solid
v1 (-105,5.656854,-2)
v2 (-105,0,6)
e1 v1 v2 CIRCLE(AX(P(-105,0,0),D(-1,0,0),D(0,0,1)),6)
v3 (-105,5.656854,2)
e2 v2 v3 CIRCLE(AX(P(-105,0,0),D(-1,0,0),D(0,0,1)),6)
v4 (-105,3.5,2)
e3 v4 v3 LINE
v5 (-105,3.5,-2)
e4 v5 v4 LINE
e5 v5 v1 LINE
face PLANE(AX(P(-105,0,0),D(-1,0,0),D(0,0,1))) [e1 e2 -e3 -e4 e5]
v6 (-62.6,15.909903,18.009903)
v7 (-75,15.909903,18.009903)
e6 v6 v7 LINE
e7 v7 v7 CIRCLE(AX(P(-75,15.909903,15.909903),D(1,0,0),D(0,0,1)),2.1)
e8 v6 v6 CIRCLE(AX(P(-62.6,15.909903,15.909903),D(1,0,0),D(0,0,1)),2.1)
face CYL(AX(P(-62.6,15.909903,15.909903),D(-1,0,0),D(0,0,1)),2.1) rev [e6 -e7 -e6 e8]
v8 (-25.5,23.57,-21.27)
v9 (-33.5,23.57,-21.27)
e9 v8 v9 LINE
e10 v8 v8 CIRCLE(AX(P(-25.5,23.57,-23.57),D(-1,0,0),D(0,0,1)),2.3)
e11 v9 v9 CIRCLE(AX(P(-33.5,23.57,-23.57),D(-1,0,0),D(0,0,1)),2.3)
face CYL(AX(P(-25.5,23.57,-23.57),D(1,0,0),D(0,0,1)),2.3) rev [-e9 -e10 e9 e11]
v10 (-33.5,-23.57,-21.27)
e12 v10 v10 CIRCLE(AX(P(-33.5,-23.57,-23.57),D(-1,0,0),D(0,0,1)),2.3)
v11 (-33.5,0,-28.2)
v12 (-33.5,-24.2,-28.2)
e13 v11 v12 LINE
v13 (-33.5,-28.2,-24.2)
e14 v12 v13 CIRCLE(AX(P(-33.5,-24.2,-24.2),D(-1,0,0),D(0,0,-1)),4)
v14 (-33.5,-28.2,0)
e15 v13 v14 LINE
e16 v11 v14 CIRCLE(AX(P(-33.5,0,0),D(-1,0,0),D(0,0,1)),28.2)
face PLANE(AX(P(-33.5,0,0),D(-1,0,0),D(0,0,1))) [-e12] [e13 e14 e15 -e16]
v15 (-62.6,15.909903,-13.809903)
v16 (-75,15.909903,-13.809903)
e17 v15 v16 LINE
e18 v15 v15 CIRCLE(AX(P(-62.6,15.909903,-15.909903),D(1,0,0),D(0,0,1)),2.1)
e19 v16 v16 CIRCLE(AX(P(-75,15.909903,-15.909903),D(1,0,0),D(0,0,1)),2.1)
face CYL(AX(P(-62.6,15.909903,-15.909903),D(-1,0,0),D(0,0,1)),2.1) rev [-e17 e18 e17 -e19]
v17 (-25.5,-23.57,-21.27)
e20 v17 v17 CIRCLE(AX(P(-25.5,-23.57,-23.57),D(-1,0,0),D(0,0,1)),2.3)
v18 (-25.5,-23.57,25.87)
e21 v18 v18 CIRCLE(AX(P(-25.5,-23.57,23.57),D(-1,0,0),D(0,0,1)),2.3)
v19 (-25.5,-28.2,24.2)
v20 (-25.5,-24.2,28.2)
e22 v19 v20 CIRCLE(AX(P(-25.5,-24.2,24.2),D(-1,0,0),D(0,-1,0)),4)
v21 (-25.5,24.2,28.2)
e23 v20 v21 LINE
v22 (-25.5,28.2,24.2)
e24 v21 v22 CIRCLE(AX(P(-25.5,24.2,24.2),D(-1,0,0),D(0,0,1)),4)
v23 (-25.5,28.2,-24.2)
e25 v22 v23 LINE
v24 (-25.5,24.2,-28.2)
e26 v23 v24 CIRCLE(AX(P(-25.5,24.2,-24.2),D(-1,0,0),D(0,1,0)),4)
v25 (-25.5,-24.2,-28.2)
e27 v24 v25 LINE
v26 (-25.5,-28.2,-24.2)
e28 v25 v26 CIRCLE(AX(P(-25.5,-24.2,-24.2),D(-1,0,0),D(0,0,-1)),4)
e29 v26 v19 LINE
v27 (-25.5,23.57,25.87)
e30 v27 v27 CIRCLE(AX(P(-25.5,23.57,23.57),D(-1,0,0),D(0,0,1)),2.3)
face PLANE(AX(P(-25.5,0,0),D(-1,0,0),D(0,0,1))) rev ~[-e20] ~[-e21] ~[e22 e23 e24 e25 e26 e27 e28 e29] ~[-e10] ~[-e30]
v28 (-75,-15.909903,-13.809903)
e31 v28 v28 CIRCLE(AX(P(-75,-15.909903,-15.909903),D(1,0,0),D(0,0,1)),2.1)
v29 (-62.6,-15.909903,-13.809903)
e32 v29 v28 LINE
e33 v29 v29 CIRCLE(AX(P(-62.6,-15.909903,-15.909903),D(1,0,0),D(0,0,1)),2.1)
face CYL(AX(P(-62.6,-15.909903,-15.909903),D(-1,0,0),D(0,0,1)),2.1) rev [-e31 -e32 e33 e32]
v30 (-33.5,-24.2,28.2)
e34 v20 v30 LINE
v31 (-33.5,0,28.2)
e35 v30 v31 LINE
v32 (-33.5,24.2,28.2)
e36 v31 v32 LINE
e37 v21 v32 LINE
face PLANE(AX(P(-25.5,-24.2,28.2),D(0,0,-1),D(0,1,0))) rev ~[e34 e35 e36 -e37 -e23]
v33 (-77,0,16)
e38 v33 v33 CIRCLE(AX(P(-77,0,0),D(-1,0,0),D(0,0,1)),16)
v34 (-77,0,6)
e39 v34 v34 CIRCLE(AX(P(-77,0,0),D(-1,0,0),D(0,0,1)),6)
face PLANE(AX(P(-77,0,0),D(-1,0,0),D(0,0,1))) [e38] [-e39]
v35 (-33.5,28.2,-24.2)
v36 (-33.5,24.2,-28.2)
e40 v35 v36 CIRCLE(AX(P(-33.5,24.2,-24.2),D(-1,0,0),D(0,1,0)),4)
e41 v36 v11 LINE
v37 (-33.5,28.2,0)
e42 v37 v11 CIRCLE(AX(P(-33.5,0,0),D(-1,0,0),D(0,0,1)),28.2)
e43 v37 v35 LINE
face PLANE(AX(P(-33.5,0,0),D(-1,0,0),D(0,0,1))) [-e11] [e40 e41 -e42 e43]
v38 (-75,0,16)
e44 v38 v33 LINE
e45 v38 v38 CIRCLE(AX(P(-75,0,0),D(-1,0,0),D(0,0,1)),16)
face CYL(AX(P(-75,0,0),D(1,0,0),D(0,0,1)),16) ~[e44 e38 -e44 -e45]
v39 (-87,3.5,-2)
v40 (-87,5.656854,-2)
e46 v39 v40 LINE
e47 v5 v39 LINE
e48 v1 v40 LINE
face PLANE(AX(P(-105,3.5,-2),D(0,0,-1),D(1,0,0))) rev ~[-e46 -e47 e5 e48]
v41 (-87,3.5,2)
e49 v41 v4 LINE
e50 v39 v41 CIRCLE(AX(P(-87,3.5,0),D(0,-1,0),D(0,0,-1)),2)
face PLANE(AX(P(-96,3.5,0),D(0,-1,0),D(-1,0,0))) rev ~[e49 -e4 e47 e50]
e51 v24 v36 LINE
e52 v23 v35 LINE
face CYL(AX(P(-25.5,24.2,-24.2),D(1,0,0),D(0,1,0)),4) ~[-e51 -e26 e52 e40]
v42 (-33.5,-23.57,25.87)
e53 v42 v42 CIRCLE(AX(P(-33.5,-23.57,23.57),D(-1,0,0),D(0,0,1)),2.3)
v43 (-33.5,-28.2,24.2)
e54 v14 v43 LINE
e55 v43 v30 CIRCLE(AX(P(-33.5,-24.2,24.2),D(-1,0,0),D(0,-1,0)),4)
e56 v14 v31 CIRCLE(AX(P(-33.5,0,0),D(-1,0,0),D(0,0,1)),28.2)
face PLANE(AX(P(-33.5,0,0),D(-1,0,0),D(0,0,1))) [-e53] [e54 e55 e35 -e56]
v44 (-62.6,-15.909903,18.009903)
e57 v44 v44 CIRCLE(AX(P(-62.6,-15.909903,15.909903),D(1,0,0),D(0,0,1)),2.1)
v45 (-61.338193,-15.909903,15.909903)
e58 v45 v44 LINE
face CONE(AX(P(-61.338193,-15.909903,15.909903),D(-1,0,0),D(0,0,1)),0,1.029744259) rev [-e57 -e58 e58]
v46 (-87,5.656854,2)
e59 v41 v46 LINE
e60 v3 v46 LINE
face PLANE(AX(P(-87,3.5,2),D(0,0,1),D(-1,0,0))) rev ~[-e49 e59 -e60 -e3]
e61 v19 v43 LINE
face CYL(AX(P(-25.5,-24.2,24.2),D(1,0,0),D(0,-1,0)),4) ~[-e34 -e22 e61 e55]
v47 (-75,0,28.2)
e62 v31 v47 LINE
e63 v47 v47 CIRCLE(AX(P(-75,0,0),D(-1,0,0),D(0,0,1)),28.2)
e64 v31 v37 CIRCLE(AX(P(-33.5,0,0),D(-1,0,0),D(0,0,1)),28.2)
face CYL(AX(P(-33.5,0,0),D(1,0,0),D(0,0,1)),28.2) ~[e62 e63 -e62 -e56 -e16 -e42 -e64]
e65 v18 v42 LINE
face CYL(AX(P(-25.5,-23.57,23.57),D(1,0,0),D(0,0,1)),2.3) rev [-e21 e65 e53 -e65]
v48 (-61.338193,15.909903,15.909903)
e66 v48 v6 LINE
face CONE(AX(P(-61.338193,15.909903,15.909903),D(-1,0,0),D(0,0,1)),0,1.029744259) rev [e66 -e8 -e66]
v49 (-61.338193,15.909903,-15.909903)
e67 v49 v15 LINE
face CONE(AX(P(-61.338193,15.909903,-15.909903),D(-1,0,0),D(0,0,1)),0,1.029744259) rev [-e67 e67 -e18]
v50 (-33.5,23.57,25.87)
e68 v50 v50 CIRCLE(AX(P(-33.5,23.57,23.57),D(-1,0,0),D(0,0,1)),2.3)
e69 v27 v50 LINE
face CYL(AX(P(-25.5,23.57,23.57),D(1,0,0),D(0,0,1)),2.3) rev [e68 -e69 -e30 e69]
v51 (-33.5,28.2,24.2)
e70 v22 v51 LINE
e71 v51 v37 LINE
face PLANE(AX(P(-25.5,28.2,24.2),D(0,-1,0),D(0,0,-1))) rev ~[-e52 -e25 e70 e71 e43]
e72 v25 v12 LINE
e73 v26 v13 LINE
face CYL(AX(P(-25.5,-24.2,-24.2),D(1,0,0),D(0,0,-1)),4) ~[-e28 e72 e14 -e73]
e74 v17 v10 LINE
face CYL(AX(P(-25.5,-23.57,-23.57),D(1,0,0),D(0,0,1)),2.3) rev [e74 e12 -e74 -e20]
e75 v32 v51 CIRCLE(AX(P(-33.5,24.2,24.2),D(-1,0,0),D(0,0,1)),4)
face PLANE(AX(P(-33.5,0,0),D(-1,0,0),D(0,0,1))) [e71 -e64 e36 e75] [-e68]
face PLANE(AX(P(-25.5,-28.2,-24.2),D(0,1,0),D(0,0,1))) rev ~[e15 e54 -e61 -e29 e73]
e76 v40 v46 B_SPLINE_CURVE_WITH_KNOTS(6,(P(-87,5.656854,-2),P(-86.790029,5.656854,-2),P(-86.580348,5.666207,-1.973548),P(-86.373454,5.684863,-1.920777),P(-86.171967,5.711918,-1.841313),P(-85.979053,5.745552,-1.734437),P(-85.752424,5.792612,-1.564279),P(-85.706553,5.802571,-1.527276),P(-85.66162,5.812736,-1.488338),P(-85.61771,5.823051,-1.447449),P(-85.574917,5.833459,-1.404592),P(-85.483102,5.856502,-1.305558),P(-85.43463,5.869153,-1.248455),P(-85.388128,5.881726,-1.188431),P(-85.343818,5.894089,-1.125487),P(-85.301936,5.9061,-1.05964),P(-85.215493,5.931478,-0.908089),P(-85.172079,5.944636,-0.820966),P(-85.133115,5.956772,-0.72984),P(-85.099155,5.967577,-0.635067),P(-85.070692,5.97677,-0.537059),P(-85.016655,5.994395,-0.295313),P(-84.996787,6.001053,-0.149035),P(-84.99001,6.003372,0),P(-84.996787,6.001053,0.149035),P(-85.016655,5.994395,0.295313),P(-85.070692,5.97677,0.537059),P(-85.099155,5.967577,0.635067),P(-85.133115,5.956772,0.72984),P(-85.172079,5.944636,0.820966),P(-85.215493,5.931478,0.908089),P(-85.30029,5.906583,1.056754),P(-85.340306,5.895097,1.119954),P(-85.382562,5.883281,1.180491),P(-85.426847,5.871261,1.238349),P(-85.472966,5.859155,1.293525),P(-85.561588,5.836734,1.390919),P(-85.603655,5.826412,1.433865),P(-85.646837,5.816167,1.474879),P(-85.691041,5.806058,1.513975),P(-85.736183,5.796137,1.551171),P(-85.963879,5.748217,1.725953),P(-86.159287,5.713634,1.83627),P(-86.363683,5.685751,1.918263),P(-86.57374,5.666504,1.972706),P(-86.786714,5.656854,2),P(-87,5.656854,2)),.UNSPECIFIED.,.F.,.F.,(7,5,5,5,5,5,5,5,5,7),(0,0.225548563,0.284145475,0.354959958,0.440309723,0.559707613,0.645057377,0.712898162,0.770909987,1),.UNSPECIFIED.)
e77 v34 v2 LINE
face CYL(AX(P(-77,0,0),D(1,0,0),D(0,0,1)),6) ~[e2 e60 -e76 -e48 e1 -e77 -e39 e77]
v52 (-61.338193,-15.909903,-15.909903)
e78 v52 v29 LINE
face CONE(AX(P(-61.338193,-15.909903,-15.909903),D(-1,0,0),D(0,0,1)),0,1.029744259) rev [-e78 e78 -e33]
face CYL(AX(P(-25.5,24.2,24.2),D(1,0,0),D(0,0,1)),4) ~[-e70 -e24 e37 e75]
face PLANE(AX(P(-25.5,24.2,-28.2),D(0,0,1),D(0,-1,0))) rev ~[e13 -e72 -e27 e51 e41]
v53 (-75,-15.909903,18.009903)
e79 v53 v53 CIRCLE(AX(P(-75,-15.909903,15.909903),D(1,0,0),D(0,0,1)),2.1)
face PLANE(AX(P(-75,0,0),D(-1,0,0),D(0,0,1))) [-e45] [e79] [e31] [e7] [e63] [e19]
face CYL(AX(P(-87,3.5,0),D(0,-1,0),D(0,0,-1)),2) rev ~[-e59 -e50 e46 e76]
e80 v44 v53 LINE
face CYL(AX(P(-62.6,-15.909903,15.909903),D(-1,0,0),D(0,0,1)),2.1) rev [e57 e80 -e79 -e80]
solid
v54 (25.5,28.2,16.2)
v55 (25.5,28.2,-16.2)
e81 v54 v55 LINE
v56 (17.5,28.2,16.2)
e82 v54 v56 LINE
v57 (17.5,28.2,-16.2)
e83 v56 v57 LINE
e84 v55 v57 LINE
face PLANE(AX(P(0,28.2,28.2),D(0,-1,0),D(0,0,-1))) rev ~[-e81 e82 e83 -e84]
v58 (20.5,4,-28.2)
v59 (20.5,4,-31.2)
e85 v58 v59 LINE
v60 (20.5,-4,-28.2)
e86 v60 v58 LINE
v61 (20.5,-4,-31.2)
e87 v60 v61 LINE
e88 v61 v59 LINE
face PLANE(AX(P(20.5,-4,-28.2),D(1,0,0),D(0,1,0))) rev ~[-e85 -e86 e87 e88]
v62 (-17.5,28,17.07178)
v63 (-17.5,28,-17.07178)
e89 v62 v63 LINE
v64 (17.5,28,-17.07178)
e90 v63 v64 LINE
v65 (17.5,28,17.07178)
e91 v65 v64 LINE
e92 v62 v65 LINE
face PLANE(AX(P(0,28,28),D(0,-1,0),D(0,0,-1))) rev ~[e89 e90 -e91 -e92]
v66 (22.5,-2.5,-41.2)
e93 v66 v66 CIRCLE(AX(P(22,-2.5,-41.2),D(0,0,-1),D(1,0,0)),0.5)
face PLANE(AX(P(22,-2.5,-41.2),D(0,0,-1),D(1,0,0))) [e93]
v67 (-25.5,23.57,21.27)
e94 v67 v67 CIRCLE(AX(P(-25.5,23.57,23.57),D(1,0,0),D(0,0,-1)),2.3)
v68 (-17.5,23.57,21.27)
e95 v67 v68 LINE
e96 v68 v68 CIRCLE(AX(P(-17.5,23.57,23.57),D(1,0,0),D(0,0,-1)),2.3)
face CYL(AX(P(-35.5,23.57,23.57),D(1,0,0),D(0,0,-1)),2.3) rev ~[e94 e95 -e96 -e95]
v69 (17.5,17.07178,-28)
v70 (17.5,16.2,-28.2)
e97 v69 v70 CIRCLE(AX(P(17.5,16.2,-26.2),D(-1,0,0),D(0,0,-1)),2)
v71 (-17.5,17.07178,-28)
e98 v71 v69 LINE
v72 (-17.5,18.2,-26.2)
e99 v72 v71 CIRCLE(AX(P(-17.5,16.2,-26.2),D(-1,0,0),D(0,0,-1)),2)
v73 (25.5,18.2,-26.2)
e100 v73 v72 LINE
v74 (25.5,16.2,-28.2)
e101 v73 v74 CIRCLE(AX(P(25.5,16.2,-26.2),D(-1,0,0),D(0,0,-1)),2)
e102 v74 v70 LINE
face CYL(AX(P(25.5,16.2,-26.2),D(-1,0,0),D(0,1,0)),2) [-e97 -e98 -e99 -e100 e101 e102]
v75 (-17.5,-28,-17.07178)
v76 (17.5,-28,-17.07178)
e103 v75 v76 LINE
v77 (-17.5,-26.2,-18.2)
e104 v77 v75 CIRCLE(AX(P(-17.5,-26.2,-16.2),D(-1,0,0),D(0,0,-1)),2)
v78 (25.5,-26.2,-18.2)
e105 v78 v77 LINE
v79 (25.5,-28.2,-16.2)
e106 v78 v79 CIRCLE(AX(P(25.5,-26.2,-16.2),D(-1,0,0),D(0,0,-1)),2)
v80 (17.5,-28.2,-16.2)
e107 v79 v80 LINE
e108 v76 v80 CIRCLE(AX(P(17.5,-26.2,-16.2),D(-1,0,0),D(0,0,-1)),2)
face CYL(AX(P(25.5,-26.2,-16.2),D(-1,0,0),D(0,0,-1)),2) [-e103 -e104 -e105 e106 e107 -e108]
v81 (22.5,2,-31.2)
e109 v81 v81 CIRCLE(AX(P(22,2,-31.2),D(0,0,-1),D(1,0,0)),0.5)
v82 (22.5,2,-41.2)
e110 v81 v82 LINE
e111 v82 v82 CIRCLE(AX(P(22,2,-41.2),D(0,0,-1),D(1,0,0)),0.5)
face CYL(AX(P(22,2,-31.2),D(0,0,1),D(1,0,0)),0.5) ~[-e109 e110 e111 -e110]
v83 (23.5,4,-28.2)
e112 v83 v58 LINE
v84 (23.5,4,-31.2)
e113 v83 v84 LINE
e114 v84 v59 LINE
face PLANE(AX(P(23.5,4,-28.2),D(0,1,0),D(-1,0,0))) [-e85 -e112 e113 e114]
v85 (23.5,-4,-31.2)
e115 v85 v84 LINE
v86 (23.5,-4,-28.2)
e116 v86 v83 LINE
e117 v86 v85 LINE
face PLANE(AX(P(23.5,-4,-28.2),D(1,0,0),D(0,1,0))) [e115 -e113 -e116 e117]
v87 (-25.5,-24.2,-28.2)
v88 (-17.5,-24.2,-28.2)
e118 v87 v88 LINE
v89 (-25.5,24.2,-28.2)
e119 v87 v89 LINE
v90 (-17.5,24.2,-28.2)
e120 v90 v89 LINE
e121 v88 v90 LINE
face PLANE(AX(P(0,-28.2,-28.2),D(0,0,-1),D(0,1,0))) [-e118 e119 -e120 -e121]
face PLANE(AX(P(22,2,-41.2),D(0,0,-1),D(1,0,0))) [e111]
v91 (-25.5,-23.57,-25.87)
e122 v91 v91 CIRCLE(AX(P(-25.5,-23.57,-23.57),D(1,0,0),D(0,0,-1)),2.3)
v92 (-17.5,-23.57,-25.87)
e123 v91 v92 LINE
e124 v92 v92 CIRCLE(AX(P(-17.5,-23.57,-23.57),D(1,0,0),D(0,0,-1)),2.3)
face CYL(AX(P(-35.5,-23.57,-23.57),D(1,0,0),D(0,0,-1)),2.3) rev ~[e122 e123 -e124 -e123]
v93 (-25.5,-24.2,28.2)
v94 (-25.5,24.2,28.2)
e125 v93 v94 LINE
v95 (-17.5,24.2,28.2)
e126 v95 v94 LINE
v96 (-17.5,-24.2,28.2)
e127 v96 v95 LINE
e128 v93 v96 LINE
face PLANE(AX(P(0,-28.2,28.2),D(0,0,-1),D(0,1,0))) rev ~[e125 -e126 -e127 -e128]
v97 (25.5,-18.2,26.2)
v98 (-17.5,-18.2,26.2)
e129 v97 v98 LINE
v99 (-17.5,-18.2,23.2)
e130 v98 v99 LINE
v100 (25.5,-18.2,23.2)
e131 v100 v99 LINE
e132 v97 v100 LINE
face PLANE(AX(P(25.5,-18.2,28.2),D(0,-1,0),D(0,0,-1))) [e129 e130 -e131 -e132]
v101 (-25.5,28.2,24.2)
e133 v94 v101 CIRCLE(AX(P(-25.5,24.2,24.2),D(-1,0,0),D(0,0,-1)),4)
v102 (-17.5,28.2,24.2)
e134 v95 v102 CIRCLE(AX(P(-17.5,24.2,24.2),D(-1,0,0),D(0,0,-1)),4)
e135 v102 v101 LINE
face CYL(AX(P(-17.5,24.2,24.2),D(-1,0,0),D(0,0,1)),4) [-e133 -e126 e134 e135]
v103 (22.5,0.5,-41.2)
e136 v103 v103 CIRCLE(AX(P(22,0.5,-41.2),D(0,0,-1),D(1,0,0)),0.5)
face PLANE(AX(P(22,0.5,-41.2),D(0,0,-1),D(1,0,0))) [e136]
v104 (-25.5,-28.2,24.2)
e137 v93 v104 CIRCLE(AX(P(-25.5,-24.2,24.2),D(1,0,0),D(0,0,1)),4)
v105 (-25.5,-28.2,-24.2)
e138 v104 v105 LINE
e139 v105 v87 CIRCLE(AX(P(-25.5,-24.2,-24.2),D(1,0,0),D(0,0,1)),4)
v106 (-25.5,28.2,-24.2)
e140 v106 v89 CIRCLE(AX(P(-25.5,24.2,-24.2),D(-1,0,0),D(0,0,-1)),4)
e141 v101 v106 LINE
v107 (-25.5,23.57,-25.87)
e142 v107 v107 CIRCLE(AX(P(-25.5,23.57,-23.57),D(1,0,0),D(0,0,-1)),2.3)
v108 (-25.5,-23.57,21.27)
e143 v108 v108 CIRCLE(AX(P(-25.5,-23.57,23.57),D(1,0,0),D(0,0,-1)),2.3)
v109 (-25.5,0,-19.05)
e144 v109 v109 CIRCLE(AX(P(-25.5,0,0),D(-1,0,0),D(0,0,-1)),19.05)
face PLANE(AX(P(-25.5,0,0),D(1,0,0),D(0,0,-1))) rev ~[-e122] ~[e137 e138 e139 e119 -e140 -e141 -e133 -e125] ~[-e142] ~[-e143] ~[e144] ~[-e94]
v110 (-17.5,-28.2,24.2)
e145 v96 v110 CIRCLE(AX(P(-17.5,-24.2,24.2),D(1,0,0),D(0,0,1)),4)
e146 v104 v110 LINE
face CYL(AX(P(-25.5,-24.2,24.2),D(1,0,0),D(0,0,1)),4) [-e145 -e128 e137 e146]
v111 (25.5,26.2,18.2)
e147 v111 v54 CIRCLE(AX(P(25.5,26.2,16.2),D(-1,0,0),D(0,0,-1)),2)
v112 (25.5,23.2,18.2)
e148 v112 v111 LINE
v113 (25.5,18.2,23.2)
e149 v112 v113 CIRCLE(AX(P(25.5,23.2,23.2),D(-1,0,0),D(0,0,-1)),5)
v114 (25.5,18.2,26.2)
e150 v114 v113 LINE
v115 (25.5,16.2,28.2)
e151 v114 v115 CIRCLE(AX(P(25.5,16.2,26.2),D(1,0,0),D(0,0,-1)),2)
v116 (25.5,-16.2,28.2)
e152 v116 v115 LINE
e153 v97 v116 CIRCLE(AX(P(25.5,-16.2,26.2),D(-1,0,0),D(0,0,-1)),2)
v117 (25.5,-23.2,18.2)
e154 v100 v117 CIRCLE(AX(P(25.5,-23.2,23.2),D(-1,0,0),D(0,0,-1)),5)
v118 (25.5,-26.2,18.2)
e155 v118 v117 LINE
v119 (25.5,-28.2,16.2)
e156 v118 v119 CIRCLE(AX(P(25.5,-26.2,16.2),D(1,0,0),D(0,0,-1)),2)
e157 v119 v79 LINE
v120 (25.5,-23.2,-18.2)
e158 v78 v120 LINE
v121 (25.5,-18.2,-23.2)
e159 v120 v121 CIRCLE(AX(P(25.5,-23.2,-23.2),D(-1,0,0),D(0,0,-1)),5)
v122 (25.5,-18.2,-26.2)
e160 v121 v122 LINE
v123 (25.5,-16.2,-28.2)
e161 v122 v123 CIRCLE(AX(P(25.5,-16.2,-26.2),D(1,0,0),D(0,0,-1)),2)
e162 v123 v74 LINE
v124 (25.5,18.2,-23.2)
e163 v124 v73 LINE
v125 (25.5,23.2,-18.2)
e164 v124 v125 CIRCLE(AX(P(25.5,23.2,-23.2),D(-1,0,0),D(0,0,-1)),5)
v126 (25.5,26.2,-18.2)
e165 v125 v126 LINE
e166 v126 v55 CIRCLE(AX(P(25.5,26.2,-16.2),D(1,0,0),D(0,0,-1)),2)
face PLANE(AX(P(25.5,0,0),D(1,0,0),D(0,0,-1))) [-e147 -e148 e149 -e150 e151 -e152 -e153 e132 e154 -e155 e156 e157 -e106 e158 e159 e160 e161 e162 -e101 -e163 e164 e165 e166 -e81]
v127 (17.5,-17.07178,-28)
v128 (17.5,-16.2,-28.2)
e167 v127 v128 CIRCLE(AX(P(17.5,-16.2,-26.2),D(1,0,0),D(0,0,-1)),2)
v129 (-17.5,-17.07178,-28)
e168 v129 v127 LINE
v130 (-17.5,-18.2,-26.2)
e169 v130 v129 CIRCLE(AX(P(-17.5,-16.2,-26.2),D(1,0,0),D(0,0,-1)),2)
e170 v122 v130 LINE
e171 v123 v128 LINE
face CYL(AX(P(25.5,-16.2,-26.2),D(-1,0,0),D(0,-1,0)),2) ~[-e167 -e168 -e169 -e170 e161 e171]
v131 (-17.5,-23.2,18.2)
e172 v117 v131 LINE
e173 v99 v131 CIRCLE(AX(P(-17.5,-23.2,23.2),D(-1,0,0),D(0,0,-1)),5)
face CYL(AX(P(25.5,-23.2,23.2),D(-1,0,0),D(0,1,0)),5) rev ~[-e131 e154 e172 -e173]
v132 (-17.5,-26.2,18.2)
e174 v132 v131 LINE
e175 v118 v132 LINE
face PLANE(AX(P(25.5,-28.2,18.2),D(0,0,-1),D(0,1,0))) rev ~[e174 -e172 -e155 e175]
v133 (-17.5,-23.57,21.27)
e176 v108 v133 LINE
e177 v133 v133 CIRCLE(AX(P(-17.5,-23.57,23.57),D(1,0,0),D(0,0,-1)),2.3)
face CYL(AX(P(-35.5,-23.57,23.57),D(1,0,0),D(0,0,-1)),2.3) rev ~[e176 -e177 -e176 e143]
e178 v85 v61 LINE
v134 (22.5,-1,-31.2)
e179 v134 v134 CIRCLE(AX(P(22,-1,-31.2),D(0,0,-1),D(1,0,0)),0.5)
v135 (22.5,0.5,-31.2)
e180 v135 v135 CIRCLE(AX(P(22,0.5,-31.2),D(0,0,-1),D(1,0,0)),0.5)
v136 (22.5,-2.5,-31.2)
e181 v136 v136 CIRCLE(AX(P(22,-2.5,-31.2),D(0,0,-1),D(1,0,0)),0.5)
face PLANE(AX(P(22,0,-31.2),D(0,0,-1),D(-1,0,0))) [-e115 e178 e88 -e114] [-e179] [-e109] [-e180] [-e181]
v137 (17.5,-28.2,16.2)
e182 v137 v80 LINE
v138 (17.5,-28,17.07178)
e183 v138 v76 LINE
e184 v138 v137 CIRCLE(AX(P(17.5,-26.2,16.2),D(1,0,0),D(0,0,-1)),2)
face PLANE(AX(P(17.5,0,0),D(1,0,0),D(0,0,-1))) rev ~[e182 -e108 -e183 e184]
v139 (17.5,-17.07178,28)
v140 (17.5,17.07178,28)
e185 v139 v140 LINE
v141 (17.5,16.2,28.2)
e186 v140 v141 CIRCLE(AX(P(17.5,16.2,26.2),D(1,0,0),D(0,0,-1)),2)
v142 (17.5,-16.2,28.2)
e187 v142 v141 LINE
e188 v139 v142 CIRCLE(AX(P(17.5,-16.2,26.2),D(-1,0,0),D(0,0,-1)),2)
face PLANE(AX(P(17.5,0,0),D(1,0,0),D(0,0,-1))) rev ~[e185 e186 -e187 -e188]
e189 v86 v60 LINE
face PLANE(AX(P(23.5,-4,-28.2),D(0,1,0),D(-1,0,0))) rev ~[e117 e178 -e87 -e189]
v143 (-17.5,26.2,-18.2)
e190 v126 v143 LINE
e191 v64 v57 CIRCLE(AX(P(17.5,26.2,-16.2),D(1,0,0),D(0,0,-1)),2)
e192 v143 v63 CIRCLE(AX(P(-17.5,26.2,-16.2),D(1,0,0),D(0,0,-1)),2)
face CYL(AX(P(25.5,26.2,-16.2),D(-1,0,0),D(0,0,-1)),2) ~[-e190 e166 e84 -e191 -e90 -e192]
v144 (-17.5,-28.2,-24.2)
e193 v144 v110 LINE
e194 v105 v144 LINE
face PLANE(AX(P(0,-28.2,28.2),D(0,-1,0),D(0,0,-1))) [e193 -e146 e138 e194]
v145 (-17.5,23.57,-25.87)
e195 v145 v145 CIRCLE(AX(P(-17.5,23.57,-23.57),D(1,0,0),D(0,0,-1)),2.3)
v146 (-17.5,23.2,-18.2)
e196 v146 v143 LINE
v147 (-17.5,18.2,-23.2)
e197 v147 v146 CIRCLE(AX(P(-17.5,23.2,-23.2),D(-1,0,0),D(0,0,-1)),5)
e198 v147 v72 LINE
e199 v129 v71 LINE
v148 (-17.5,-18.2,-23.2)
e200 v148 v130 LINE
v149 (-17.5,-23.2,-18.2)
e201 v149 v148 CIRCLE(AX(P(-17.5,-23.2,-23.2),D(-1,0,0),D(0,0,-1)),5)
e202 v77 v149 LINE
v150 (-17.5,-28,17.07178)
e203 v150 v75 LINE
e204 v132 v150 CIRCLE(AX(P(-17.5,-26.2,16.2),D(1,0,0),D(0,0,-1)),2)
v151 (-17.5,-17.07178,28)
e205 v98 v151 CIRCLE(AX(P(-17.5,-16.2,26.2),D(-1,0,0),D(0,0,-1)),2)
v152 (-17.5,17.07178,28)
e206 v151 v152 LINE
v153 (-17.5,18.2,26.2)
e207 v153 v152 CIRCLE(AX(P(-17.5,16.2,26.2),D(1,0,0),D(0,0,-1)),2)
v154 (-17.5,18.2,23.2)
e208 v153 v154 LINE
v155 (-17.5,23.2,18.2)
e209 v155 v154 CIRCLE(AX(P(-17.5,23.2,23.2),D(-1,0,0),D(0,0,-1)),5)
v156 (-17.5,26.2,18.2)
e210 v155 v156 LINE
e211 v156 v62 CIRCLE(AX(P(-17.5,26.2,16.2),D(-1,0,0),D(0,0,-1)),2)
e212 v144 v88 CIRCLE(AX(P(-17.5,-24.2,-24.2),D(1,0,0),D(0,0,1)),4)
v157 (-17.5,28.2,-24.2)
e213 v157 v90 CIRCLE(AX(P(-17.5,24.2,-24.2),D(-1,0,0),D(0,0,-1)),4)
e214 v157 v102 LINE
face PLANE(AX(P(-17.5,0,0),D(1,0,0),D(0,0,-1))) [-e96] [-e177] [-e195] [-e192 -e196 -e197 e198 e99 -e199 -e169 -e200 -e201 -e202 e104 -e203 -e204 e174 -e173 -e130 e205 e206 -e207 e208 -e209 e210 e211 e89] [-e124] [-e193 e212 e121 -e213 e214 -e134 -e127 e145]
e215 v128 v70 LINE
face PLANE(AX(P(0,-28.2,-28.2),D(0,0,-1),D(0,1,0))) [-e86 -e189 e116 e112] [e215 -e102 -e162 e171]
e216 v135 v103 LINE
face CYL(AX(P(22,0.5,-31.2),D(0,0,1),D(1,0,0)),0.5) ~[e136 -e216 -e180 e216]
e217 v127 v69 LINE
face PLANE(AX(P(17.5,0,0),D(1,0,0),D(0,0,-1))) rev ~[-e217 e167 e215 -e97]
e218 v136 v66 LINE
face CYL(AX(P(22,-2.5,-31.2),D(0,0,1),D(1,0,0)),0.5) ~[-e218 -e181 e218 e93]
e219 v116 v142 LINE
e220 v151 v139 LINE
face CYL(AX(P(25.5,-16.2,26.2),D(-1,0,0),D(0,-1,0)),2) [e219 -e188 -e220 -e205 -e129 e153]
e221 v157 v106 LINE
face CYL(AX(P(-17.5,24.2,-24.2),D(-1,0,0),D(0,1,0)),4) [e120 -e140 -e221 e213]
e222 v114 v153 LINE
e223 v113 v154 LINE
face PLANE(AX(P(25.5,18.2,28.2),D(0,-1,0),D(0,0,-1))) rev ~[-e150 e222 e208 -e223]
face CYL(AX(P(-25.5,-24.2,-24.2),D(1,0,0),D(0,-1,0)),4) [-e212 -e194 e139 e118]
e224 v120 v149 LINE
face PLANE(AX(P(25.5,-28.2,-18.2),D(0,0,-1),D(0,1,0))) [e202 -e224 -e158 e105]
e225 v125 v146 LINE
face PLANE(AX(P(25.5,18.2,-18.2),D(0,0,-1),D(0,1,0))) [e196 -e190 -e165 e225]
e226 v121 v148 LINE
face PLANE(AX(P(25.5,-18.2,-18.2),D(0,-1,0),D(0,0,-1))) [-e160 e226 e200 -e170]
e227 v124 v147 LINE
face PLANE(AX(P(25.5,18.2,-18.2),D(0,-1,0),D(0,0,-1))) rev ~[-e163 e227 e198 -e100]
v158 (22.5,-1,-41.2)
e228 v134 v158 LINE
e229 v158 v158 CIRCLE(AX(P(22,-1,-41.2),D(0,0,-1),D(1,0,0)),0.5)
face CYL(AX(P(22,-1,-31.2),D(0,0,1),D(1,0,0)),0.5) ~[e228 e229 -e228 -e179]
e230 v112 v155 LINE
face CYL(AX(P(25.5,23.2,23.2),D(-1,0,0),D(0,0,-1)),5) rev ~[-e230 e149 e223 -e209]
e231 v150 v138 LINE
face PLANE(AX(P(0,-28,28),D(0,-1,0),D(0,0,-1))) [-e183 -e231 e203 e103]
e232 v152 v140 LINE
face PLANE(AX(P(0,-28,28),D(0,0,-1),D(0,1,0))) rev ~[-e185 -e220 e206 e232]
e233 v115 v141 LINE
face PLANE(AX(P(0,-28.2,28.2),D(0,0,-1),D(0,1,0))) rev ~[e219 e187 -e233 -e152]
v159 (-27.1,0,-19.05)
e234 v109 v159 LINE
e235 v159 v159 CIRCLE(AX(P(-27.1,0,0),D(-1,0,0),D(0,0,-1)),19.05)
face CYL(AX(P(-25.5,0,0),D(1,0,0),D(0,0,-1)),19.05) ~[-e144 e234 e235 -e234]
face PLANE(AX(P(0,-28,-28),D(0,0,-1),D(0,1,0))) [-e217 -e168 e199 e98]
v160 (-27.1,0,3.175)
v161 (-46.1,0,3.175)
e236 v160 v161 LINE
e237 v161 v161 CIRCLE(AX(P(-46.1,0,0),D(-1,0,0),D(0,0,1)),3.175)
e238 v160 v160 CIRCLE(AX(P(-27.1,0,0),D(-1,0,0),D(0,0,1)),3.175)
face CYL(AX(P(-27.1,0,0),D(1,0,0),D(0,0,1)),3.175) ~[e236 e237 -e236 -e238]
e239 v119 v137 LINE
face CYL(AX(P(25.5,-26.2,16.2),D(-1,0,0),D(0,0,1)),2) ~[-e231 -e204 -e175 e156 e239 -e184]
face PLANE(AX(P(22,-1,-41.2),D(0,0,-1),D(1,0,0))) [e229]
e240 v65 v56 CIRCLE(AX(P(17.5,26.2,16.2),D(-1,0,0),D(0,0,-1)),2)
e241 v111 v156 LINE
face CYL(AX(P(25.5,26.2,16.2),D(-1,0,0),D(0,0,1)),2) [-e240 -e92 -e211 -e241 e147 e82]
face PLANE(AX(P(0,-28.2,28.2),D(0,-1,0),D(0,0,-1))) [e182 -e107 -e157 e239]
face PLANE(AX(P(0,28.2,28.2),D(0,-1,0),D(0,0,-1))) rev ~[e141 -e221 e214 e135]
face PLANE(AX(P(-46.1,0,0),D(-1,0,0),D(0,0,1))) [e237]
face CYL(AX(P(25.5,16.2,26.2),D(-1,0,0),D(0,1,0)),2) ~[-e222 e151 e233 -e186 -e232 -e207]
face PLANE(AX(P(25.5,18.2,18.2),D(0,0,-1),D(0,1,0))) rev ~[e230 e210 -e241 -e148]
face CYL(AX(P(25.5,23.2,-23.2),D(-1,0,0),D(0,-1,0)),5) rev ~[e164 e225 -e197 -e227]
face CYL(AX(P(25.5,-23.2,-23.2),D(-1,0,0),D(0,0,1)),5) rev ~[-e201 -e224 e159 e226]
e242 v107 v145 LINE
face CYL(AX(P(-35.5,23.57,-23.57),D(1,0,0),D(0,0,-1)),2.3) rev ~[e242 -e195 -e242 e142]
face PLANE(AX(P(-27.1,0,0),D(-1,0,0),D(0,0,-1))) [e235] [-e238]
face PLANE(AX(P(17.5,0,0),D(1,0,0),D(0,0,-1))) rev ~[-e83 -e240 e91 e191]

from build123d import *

# Parameters (mm, degrees)
SKETCH_1_W                  = 56.4
SKETCH_1_H                  = 56.4
EXTRUDE_1_DEPTH             = 25.5
SKETCH_7_W                  = 56.4
SKETCH_7_H                  = 56.4
SKETCH_7_W_2                = 56
SKETCH_7_H_2                = 56
CUT_EXTRUDE_1_DEPTH         = 17.5
SKETCH_2_R                  = 19.05
EXTRUDE_2_DEPTH             = 1.6
SKETCH_3_R                  = 3.175
EXTRUDE_3_DEPTH             = 19
SKETCH_10_W                 = 3
SKETCH_10_H                 = 8
EXTRUDE_4_DEPTH             = 3
SKETCH_11_R                 = 0.5
EXTRUDE_5_DEPTH             = 10
SKETCH_12_W                 = 10
SKETCH_12_H                 = 10
CUT_EXTRUDE_2_DEPTH         = 43
FILLET_2_R                  = 5
FILLET_3_R                  = 2
HOLE_WIZARD_4_6_4_6_1_D     = 4.6
HOLE_WIZARD_4_6_4_6_1_DEPTH = 10
HOLE_WIZARD_4_6_4_6_1_TIP   = 1.381979424
FILLET_1_R                  = 4
SKETCH_13_R                 = 2.3
EXTRUDE_6_DEPTH             = 8
SKETCH_14_R                 = 28.2
EXTRUDE_7_DEPTH             = 41.5
SKETCH_15_R                 = 16
EXTRUDE_8_DEPTH             = 2
SKETCH_16_R                 = 6
EXTRUDE_9_DEPTH             = 28
CUT_EXTRUDE_START           = 3.5
CUT_EXTRUDE_4_DEPTH         = 28
HOLE_WIZARD_M5_1_AT_2_COUNT = 2
HOLE_WIZARD_M5_1_AT_2_PITCH = 31.819805153
HOLE_WIZARD_M5_1_AT_3_COUNT = 2
HOLE_WIZARD_M5_1_AT_3_PITCH = 31.819805153
HOLE_WIZARD_M5_1_AT_4_COUNT = 2
HOLE_WIZARD_M5_1_AT_4_PITCH = 45


with BuildPart() as part:
    # 草图1 → 凸台-拉伸1 (new, symmetric)
    with BuildSketch(Plane(origin=(0, 0, 0), x_dir=(0, 0, -1), z_dir=(1, 0, 0))):
        Rectangle(SKETCH_1_W, SKETCH_1_H)
    extrude(amount=EXTRUDE_1_DEPTH, both=True)

    # 草图7 → 切除-拉伸1 (cut, symmetric)
    with BuildSketch(Plane(origin=(0, 0, 0), x_dir=(0, 0, -1), z_dir=(1, 0, 0))):
        Rectangle(SKETCH_7_W, SKETCH_7_H)
        Rectangle(SKETCH_7_W_2, SKETCH_7_H_2, mode=Mode.SUBTRACT)
    extrude(amount=CUT_EXTRUDE_1_DEPTH, both=True, mode=Mode.SUBTRACT)

    # 草图2 → 凸台-拉伸2 (add)
    with BuildSketch(Plane.ZY.offset(25.5)):
        with Locations(Location((0, 0, 0), (0, 0, 180))):
            Circle(SKETCH_2_R)
    extrude(amount=EXTRUDE_2_DEPTH)

    # 草图3 → 凸台-拉伸3 (add)
    with BuildSketch(Plane.ZY.offset(27.1)):
        Circle(SKETCH_3_R)
    extrude(amount=EXTRUDE_3_DEPTH)

    # 草图10 → 凸台-拉伸4 (add)
    with BuildSketch(Plane(origin=(0, 0, -28.2), x_dir=(-1, 0, 0), z_dir=(0, 0, -1))):
        with Locations((-22, 0)):
            Rectangle(SKETCH_10_W, SKETCH_10_H)
    extrude(amount=EXTRUDE_4_DEPTH)

    # 草图11 → 凸台-拉伸5 (add)
    with BuildSketch(Plane(origin=(0, 0, -31.2), x_dir=(-1, 0, 0), z_dir=(0, 0, -1))):
        with Locations(Location((-22, -2.5, 0), (0, 0, 180))):
            Circle(SKETCH_11_R)
        with Locations(Location((-22, -1, 0), (0, 0, 180))):
            Circle(SKETCH_11_R)
        with Locations(Location((-22, 0.5, 0), (0, 0, 180))):
            Circle(SKETCH_11_R)
        with Locations(Location((-22, 2, 0), (0, 0, 180))):
            Circle(SKETCH_11_R)
    extrude(amount=EXTRUDE_5_DEPTH)

    # 草图12 → 切除-拉伸2 (cut)
    with BuildSketch(Plane(origin=(25.5, 0, 0), x_dir=(0, 0, -1), z_dir=(1, 0, 0))):
        with Locations((23.2, -23.2)):
            Rectangle(SKETCH_12_W, SKETCH_12_H)
        with Locations((-23.2, -23.2)):
            Rectangle(SKETCH_12_W, SKETCH_12_H)
        with Locations((-23.2, 23.2)):
            Rectangle(SKETCH_12_W, SKETCH_12_H)
        with Locations((23.2, 23.2)):
            Rectangle(SKETCH_12_W, SKETCH_12_H)
    extrude(amount=-CUT_EXTRUDE_2_DEPTH, mode=Mode.SUBTRACT)

    # 圆角2
    fillet_2_edges = [part.edges().sort_by_distance(p)[0] for p in [
        (4, -18.2, 18.2),
        (4, 18.2, 18.2),
        (4, 18.2, -18.2),
        (4, -18.2, -18.2),
    ]]
    fillet(fillet_2_edges, radius=FILLET_2_R)

    # 圆角3
    fillet_3_edges = [part.edges().sort_by_distance(p)[0] for p in [
        (21.5, 28.2, -18.2),
        (21.5, 28.2, 18.2),
        (21.5, 18.2, 28.2),
        (21.5, -18.2, 28.2),
        (21.5, -28.2, 18.2),
        (21.5, -28.2, -18.2),
        (21.5, -18.2, -28.2),
        (21.5, 18.2, -28.2),
    ]]
    fillet(fillet_3_edges, radius=FILLET_3_R)

    # Ø4.6 (4.6) 直径孔1
    with Locations(Plane.ZY.offset(25.5)):
        with Locations((-23.57, 23.57), (23.57, 23.57), (23.57, -23.57), (-23.57, -23.57)):
            Hole(HOLE_WIZARD_4_6_4_6_1_D / 2, depth=HOLE_WIZARD_4_6_4_6_1_DEPTH)
            with Locations((0, 0, -(HOLE_WIZARD_4_6_4_6_1_DEPTH + HOLE_WIZARD_4_6_4_6_1_TIP / 2))):  # 118° drill point
                Cone(0, HOLE_WIZARD_4_6_4_6_1_D / 2, HOLE_WIZARD_4_6_4_6_1_TIP, mode=Mode.SUBTRACT)

    # 圆角1
    fillet_1_edges = [part.edges().sort_by_distance(p)[0] for p in [
        (-21.5, 28.2, 28.2),
        (-21.5, 28.2, -28.2),
        (-21.5, -28.2, -28.2),
        (-21.5, -28.2, 28.2),
    ]]
    fillet(fillet_1_edges, radius=FILLET_1_R)


with BuildPart() as body_2:
    # 草图13 → 凸台-拉伸6 (new body)
    with BuildSketch(Plane.ZY.offset(25.5)):
        with BuildLine():
            Line((-24.2, -28.2), (24.2, -28.2))
            ThreePointArc((24.2, -28.2), (27.028427125, -27.028427125), (28.2, -24.2))
            Line((28.2, -24.2), (28.2, 24.2))
            ThreePointArc((28.2, 24.2), (27.028427125, 27.028427125), (24.2, 28.2))
            Line((24.2, 28.2), (-24.2, 28.2))
            ThreePointArc((-24.2, 28.2), (-27.028427125, 27.028427125), (-28.2, 24.2))
            Line((-28.2, 24.2), (-28.2, -24.2))
            ThreePointArc((-28.2, -24.2), (-27.028427125, -27.028427125), (-24.2, -28.2))
        make_face()
        with Locations((-23.57, 23.57)):
            Circle(SKETCH_13_R, mode=Mode.SUBTRACT)
        with Locations((23.57, 23.57)):
            Circle(SKETCH_13_R, mode=Mode.SUBTRACT)
        with Locations((-23.57, -23.57)):
            Circle(SKETCH_13_R, mode=Mode.SUBTRACT)
        with Locations((23.57, -23.57)):
            Circle(SKETCH_13_R, mode=Mode.SUBTRACT)
    extrude(amount=EXTRUDE_6_DEPTH)

    # 草图14 → 凸台-拉伸7 (add)
    with BuildSketch(Plane.ZY.offset(33.5)):
        Circle(SKETCH_14_R)
    extrude(amount=EXTRUDE_7_DEPTH)

    # 草图15 → 凸台-拉伸8 (add)
    with BuildSketch(Plane.ZY.offset(75)):
        Circle(SKETCH_15_R)
    extrude(amount=EXTRUDE_8_DEPTH)

    # 草图16 → 凸台-拉伸9 (add)
    with BuildSketch(Plane.ZY.offset(77)):
        Circle(SKETCH_16_R)
    extrude(amount=EXTRUDE_9_DEPTH)

    # 草图17 → 切除-拉伸4 (cut)
    with BuildSketch(Plane(origin=(0, 0, 0), x_dir=(1, 0, 0), z_dir=(0, 1, 0)).offset(CUT_EXTRUDE_START)):
        with BuildLine():
            Line((-105, 2), (-87, 2))
            ThreePointArc((-87, 2), (-85, 0), (-87, -2))
            Line((-87, -2), (-105, -2))
            ThreePointArc((-105, -2), (-107, 0), (-105, 2))
        make_face()
    extrude(amount=CUT_EXTRUDE_4_DEPTH, mode=Mode.SUBTRACT)

    # 草图19 → M5 螺纹孔1 (revolve, cut)
    with BuildSketch(Plane(origin=(-75, 15.909902577, -15.909902577), x_dir=(0, 0, 1), z_dir=(0, 1, 0))):
        Polygon((0, 0), (0, 13.6618073), (2.1, 12.4), (2.1, 0), align=None)
    hole_wizard_m5_1 = revolve(axis=Axis((-81.35, 15.909902577, -15.909902577), (1, 0, 0)), mode=Mode.SUBTRACT)

    # M5 螺纹孔1 at 2: M5 螺纹孔1 ×2
    with Locations(*[(0, 0, i * HOLE_WIZARD_M5_1_AT_2_PITCH) for i in range(1, HOLE_WIZARD_M5_1_AT_2_COUNT)]):
        add(hole_wizard_m5_1, mode=Mode.SUBTRACT)

    # M5 螺纹孔1 at 3: M5 螺纹孔1 ×2
    with Locations(*[(0, -i * HOLE_WIZARD_M5_1_AT_3_PITCH, 0) for i in range(1, HOLE_WIZARD_M5_1_AT_3_COUNT)]):
        add(hole_wizard_m5_1, mode=Mode.SUBTRACT)

    # M5 螺纹孔1 at 4: M5 螺纹孔1 ×2
    with Locations(*[Vector(0, -0.7071067811865475, 0.7071067811865477) * (i * HOLE_WIZARD_M5_1_AT_4_PITCH) for i in range(1, HOLE_WIZARD_M5_1_AT_4_COUNT)]):
        add(hole_wizard_m5_1, mode=Mode.SUBTRACT)


solid = Compound([part.part, body_2.part])
